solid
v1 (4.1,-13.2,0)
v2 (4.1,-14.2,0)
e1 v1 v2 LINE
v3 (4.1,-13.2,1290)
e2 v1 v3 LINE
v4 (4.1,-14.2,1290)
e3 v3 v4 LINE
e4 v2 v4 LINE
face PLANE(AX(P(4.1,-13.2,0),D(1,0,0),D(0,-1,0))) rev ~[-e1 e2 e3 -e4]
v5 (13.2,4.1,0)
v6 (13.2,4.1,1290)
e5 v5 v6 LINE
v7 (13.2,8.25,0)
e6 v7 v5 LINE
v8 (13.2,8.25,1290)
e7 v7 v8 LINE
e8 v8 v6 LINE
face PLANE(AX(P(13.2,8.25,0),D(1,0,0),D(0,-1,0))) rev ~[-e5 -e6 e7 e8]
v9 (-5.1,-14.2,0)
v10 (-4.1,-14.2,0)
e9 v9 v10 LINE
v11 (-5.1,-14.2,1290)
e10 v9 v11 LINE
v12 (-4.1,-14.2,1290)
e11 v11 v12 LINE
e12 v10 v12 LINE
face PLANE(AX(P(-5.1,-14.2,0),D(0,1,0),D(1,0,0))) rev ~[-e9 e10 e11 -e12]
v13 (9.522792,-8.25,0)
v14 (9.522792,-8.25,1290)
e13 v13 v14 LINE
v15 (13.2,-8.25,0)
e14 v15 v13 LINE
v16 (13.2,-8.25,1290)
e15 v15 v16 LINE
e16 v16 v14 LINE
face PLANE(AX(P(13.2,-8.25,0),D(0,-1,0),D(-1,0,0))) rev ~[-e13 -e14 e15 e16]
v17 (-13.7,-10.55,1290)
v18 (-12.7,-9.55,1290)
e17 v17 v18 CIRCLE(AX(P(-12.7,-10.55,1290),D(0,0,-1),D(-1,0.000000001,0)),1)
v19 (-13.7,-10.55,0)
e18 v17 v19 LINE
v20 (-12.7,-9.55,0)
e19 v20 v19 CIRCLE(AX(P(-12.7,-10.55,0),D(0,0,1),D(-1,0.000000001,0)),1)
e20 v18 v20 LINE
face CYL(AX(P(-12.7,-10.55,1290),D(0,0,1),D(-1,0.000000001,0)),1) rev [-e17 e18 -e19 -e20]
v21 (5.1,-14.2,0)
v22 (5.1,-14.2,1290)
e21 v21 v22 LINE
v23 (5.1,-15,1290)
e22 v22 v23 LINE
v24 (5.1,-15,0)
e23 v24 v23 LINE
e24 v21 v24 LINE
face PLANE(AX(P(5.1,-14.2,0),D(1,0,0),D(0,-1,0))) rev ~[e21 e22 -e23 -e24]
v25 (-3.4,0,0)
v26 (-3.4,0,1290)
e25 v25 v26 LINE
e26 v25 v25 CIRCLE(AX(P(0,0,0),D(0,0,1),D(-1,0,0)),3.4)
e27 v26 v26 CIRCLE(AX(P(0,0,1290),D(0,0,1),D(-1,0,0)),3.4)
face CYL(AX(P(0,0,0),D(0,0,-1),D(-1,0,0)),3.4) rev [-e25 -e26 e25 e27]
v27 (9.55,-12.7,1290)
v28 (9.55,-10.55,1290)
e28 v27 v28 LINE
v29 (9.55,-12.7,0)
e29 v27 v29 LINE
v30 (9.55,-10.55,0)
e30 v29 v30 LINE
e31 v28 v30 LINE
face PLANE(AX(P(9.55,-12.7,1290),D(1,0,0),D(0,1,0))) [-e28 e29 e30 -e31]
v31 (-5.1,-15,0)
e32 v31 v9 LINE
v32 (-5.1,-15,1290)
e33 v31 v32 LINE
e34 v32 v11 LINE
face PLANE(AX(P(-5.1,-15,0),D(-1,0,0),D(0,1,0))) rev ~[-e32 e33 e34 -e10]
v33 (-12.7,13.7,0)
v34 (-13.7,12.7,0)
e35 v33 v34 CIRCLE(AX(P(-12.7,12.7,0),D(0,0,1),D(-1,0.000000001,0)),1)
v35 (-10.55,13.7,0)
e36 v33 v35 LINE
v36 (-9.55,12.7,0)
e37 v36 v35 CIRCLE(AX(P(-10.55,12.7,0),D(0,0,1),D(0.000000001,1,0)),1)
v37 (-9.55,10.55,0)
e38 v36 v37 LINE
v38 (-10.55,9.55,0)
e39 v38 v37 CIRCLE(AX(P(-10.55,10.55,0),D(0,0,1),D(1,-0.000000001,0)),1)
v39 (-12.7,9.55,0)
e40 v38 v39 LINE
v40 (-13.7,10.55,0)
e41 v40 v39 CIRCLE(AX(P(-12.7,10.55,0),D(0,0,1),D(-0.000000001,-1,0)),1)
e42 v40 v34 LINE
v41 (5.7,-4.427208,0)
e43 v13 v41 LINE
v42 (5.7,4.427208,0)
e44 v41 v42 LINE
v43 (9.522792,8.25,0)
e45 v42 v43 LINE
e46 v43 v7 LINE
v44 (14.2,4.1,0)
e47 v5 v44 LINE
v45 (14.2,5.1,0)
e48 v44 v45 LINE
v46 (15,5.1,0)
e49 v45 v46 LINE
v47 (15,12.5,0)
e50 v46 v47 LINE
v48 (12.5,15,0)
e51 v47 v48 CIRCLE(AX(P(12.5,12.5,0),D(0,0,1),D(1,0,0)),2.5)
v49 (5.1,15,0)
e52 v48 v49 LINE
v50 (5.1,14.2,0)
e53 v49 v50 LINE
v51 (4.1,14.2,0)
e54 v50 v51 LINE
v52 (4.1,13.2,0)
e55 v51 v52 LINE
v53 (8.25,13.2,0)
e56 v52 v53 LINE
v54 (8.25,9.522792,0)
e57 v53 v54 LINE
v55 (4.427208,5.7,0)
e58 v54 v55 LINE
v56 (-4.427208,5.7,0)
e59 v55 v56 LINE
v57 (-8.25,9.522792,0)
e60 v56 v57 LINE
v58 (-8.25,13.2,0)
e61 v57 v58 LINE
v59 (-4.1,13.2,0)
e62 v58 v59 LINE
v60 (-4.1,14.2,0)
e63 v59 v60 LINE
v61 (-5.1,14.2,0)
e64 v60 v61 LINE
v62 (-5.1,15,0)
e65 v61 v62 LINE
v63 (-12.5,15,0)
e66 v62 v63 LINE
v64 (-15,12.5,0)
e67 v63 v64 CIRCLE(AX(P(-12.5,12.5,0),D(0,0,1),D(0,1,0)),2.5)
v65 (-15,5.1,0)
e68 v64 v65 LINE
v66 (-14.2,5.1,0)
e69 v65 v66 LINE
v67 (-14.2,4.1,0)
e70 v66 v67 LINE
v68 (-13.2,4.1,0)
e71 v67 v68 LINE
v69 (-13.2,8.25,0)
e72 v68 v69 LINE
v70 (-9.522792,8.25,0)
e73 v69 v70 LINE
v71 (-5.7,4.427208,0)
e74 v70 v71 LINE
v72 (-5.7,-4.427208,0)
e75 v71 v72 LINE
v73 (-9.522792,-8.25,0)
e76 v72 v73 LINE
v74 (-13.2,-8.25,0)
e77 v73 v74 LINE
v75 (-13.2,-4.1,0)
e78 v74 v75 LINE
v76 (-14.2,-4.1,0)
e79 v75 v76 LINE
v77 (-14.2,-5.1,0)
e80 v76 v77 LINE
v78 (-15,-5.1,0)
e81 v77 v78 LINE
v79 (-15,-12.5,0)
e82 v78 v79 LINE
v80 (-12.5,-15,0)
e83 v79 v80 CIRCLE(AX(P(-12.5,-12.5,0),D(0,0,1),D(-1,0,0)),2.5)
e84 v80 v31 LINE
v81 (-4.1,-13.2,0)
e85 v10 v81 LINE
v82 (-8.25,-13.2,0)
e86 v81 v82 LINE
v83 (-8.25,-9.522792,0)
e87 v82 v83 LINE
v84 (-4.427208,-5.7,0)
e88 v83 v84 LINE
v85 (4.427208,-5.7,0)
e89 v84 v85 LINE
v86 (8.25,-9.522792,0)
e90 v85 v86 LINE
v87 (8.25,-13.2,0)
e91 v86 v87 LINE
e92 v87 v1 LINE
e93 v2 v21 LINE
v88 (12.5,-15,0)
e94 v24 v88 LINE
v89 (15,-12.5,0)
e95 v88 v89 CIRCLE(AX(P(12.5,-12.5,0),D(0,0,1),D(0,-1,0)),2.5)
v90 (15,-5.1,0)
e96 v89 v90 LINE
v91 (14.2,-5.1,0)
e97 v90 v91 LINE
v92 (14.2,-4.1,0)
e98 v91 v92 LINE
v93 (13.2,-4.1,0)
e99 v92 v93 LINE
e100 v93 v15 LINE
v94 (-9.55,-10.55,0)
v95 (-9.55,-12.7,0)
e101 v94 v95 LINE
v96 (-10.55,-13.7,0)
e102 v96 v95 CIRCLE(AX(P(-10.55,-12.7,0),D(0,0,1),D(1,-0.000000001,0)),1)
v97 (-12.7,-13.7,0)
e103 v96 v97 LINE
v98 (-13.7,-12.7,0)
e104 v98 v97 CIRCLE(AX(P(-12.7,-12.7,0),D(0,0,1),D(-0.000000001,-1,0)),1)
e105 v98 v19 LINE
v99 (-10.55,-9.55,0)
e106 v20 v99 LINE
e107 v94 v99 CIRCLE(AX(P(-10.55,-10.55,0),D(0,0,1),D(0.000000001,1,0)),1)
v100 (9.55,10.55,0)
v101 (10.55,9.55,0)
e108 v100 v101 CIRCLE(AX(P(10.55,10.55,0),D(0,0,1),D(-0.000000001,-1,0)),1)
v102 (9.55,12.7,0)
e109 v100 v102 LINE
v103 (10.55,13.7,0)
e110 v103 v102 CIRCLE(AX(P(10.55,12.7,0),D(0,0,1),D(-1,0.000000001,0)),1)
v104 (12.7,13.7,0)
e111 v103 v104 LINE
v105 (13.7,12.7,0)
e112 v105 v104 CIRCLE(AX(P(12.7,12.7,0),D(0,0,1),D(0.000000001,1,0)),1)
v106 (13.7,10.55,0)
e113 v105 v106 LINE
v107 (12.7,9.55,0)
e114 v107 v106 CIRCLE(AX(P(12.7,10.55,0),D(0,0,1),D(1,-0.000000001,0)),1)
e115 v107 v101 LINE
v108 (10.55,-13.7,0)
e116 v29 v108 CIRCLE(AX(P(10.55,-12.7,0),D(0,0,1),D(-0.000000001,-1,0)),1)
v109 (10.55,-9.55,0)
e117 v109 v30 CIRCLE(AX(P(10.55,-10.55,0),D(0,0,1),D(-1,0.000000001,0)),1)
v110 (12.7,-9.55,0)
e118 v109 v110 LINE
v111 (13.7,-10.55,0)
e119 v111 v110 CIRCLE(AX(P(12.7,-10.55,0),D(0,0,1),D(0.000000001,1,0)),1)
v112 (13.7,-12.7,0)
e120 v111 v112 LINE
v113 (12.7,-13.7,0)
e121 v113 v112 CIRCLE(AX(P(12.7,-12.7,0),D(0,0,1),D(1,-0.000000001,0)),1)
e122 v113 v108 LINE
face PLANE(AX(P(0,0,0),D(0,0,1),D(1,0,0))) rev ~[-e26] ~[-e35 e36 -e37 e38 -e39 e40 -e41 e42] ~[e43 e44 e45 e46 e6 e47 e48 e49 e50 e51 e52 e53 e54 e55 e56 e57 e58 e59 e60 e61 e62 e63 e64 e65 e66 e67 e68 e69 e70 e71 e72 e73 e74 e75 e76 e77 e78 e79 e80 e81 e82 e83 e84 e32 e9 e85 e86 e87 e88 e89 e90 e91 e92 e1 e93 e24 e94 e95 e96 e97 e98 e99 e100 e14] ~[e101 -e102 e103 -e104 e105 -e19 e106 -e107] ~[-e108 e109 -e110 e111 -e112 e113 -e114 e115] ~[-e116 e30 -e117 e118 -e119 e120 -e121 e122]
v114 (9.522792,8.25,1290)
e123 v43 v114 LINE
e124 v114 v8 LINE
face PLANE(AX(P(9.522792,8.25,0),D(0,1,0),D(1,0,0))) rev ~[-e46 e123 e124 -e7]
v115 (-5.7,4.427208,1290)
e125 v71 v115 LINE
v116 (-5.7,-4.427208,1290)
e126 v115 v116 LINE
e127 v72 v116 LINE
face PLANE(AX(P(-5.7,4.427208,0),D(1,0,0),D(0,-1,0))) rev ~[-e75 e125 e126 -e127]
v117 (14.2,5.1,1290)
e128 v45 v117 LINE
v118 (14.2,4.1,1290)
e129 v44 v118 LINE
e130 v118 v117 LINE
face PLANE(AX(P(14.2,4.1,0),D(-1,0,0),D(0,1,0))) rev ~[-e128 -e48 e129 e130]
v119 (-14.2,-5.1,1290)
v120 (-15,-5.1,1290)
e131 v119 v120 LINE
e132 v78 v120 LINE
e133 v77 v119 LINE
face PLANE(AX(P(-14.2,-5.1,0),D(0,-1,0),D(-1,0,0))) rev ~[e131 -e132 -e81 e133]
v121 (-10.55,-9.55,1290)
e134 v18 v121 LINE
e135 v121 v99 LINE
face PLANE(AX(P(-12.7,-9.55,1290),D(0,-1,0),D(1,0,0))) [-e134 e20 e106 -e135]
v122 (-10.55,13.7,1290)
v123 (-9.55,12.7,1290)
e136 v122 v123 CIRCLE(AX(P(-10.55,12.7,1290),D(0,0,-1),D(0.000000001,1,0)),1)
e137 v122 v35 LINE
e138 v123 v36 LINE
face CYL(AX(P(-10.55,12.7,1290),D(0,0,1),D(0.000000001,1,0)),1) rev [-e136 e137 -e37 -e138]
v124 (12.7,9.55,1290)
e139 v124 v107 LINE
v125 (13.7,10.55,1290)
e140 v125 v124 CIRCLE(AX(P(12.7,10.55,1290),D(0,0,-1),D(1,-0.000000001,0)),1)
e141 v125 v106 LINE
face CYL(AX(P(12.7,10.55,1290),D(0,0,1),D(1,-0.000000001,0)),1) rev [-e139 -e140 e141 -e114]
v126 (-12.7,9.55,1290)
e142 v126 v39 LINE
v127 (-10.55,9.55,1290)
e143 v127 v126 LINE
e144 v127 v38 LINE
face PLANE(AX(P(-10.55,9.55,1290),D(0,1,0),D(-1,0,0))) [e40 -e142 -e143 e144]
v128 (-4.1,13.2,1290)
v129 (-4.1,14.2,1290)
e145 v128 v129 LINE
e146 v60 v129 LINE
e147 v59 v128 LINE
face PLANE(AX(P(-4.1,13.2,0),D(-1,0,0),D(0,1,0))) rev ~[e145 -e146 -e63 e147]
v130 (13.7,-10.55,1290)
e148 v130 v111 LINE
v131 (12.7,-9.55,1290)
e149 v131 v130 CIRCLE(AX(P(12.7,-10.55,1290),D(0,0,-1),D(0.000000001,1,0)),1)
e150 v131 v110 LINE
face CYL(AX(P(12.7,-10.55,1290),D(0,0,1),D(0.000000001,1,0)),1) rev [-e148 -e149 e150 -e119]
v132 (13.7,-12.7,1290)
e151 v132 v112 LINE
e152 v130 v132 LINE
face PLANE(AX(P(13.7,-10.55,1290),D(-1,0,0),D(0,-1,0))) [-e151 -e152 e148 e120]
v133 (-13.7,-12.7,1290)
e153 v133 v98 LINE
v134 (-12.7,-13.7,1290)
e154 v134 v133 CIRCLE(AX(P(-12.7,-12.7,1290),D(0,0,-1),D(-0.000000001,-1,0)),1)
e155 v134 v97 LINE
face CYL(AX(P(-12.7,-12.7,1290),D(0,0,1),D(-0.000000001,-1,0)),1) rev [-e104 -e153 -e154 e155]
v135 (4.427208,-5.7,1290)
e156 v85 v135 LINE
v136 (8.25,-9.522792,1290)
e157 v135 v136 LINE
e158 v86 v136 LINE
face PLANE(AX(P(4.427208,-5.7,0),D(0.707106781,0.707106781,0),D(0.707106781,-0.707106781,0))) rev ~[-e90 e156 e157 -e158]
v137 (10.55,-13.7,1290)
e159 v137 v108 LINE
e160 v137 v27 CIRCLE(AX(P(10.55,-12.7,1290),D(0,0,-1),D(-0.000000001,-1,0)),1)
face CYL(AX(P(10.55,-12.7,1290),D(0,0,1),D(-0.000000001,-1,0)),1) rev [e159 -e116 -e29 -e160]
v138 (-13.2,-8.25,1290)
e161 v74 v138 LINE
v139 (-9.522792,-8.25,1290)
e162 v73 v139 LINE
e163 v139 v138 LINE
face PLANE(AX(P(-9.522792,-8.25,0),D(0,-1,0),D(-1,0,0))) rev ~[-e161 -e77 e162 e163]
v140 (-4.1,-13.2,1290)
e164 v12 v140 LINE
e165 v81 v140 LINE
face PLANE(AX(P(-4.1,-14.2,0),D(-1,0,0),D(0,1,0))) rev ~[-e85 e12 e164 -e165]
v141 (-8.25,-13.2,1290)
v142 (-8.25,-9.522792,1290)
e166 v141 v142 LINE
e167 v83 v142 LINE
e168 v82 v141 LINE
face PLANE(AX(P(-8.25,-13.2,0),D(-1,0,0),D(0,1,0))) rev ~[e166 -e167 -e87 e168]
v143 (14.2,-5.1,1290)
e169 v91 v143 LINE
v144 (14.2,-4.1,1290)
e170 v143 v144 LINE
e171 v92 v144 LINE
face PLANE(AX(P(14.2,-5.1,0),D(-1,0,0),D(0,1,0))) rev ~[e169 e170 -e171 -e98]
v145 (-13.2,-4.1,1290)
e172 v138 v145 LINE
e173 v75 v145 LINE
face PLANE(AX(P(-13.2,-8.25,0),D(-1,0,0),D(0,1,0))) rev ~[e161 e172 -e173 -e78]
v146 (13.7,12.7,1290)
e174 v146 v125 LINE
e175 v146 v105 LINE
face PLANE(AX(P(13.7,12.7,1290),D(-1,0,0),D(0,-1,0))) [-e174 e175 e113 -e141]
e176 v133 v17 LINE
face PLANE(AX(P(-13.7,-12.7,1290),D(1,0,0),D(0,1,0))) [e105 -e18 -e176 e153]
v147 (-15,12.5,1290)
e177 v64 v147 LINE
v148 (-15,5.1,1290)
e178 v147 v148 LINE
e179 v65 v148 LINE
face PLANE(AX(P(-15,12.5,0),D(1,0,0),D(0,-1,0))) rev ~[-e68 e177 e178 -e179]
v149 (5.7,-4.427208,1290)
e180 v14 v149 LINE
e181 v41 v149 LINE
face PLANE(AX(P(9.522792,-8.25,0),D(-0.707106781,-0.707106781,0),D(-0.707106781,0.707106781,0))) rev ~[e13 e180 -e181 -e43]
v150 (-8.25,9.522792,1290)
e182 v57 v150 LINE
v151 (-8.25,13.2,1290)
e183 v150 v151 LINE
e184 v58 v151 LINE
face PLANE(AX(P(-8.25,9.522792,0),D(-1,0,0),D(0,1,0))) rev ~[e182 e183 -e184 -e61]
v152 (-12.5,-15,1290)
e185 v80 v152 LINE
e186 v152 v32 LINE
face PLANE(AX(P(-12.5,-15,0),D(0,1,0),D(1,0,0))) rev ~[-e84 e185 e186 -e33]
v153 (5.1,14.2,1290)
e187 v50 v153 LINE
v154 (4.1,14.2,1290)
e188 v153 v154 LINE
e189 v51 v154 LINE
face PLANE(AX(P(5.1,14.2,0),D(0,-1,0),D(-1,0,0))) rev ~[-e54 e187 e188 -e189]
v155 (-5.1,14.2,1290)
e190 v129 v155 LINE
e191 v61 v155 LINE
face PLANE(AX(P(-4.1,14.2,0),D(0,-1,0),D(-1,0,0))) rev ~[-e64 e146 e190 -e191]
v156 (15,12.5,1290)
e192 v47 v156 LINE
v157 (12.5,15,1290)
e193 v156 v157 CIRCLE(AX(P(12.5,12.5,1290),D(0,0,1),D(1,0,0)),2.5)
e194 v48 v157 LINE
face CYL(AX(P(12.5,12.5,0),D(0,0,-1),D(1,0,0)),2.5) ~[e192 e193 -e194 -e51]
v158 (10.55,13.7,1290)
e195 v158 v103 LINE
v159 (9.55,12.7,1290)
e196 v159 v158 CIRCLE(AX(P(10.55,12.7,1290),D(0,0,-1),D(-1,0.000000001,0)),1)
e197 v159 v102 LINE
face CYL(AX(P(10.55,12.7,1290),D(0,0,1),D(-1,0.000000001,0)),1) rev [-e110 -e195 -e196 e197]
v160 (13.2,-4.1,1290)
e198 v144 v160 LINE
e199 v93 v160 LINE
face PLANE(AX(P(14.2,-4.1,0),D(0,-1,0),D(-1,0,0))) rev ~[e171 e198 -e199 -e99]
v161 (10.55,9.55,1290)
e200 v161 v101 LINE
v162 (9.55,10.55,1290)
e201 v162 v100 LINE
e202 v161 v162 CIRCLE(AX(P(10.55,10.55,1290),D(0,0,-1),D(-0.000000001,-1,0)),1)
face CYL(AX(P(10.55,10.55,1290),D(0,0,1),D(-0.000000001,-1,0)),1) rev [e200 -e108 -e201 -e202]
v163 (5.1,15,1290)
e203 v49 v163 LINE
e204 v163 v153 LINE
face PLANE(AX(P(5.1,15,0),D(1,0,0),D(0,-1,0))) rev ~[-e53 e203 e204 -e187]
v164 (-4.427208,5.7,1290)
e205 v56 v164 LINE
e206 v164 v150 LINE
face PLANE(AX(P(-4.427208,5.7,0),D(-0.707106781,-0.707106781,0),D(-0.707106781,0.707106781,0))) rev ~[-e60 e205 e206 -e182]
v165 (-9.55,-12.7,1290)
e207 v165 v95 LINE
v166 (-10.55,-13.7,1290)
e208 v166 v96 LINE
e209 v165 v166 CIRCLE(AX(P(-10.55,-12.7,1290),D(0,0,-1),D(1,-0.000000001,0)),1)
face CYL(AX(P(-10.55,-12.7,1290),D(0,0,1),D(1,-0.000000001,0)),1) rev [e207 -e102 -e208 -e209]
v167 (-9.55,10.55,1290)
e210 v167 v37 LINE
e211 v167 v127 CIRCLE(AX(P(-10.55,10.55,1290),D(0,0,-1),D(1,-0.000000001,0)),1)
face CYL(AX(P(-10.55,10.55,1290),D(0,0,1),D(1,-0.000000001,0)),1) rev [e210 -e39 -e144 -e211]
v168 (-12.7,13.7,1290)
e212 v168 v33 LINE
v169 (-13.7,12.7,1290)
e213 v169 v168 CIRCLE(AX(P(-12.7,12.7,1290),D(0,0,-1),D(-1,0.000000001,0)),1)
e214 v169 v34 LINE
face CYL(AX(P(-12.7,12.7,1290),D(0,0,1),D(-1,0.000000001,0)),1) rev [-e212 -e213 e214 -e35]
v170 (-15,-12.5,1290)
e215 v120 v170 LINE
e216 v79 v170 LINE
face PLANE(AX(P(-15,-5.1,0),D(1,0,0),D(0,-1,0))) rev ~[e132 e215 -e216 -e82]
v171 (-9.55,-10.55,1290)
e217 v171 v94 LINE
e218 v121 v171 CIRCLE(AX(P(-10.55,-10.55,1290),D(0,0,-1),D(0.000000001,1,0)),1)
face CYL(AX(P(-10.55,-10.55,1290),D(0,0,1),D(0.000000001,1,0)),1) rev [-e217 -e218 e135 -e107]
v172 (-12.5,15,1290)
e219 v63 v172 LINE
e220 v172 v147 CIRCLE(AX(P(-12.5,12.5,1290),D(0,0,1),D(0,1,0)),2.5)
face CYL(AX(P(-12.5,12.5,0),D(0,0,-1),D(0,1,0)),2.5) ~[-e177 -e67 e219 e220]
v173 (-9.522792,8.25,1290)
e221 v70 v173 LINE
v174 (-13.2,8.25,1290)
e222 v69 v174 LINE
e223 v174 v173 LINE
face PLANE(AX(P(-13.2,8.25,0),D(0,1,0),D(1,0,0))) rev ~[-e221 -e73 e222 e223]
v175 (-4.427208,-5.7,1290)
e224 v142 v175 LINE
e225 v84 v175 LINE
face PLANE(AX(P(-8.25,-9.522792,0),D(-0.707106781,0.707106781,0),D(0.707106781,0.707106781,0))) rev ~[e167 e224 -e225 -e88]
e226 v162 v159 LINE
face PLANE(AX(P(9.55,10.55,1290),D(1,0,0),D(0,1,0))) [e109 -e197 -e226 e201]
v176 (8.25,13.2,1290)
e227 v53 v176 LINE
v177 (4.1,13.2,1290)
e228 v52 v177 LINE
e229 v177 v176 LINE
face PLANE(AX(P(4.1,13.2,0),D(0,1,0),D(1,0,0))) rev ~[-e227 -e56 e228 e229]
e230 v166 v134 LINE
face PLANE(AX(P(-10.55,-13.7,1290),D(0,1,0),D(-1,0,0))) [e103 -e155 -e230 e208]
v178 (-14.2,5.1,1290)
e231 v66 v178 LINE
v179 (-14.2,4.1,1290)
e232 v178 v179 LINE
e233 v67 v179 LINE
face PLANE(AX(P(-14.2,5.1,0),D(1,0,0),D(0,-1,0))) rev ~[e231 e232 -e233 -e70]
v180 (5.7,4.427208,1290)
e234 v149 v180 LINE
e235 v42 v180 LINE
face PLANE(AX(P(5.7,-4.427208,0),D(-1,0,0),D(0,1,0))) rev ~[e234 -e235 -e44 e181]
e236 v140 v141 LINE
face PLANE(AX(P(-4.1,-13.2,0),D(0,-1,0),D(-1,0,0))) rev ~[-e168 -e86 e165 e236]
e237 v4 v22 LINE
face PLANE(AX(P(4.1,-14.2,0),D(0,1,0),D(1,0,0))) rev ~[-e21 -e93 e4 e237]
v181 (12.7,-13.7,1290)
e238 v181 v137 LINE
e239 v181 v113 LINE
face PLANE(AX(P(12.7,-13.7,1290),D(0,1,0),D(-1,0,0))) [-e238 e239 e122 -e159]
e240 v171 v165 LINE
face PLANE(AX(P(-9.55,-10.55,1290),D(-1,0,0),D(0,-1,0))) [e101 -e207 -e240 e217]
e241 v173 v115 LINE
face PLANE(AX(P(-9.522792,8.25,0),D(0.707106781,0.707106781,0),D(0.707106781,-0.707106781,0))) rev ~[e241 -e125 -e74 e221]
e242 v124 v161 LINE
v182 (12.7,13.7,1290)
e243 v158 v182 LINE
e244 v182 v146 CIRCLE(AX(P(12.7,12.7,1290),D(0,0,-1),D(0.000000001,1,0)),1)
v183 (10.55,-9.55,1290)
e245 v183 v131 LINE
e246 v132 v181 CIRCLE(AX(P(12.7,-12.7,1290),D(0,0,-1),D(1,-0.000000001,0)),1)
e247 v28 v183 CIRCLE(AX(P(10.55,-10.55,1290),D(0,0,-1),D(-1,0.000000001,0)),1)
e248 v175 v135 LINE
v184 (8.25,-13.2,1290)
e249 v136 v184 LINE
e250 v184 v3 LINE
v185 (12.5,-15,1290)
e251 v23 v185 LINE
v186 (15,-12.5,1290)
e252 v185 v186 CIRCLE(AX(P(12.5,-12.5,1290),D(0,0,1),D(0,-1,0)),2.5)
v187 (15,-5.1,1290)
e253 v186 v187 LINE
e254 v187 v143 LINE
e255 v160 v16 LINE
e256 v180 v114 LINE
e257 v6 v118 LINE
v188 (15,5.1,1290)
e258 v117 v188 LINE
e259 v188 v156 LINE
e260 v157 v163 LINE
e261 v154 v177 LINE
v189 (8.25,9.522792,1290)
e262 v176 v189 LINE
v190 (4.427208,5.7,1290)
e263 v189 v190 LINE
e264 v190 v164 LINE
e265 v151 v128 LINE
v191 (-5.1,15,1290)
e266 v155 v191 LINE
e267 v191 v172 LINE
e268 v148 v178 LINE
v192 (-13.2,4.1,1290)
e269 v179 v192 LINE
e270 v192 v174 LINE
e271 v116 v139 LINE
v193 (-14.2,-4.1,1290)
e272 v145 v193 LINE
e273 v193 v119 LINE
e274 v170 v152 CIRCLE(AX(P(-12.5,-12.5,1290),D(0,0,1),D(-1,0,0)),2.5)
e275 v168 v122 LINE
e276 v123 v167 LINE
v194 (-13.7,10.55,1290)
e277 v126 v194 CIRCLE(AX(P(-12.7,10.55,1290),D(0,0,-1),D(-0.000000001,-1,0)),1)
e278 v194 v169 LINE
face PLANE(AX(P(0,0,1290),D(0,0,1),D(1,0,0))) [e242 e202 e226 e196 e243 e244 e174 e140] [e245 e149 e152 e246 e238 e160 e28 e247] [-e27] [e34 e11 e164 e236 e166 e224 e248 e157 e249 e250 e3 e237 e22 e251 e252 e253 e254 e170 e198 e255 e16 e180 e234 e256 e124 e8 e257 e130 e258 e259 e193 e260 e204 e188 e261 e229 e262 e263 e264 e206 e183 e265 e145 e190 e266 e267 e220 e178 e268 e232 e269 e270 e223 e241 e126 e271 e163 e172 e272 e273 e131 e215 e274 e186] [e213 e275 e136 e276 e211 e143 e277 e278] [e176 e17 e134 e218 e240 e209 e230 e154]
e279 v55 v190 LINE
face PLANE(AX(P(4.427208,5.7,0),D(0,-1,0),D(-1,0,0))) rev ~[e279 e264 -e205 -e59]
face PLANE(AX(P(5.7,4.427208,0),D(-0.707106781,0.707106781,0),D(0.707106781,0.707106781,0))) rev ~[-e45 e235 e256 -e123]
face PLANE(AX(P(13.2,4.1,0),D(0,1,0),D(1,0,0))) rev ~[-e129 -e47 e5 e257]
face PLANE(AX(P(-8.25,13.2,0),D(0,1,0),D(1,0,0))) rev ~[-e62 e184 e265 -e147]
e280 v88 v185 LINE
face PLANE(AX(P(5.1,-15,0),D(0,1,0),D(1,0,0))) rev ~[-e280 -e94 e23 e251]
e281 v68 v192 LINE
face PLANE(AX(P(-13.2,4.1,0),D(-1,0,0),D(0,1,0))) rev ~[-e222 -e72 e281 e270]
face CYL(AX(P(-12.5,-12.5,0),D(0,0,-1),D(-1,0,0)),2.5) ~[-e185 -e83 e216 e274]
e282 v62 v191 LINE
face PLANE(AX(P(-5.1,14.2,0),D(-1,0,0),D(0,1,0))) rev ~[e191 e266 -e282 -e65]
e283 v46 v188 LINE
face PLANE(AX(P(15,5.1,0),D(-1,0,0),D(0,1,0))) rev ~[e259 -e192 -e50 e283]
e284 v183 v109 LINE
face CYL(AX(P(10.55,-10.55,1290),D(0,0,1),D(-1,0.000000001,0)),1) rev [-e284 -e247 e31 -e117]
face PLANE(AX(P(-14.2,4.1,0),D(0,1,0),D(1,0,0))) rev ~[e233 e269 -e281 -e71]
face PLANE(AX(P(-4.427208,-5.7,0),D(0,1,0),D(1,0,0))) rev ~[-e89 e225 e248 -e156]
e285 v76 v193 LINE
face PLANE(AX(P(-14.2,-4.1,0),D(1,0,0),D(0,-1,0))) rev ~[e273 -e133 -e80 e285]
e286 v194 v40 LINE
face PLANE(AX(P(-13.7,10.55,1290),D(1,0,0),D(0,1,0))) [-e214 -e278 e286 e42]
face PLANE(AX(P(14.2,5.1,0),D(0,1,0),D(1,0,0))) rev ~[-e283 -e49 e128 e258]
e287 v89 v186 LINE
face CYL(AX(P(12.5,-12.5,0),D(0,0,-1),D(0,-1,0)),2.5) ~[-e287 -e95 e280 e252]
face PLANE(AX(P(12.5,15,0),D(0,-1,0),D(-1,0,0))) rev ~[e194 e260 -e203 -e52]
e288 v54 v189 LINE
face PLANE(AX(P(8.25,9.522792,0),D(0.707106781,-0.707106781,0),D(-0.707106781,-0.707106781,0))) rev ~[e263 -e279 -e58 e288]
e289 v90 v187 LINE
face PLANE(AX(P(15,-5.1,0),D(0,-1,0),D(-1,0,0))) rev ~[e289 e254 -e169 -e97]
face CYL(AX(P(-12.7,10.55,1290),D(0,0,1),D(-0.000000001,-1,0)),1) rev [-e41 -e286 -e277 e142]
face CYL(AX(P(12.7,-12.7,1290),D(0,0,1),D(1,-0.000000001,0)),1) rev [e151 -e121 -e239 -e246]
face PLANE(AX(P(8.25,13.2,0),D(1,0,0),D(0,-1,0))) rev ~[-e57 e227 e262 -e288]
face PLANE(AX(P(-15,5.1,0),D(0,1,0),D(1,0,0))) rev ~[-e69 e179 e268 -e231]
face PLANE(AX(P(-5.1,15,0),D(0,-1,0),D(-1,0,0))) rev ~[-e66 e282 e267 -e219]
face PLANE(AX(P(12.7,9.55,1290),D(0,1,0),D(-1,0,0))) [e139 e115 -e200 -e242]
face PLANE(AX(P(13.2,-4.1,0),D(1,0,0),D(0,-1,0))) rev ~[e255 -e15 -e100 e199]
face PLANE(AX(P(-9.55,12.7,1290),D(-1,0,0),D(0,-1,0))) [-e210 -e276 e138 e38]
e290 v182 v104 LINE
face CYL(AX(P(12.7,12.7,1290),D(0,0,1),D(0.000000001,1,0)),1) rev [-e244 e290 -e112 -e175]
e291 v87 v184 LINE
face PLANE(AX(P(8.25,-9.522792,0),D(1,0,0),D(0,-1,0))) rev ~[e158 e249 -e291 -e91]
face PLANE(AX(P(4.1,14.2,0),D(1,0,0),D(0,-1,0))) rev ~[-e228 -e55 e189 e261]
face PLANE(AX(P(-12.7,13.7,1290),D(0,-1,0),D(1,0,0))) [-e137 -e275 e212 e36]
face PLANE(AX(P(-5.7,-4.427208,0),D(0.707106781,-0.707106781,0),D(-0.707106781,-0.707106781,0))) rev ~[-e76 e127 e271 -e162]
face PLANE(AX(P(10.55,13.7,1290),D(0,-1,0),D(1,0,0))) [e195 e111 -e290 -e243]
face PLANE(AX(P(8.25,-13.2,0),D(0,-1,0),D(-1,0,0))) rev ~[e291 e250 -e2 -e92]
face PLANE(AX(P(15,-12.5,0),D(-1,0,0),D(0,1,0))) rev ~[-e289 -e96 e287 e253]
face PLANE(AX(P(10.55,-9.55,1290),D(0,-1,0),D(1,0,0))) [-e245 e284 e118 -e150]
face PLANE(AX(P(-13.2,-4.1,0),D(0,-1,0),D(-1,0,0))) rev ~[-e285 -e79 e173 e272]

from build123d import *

# Parameters (mm, degrees)
SKETCH1_R      = 3.4
EXTRUDE1_DEPTH = 1290
EXTRUDE2_DEPTH = 1291.174406815


with BuildPart() as part:
    # Sketch1 → Extrude1 (new body)
    with BuildSketch(Plane.XY):
        with BuildLine():
            Line((-5.1, 14.2), (-5.1, 15))
            Line((-5.1, 15), (-12.5, 15))
            ThreePointArc((-12.5, 15), (-14.267766953, 14.267766953), (-15, 12.5))
            Line((-15, 12.5), (-15, 5.1))
            Line((-15, 5.1), (-14.2, 5.1))
            Line((-14.2, 5.1), (-14.2, 4.1))
            Line((-14.2, 4.1), (-13.2, 4.1))
            Line((-13.2, 4.1), (-13.2, 8.25))
            Line((-13.2, 8.25), (-9.522792206, 8.25))
            Line((-9.522792206, 8.25), (-5.7, 4.427207794))
            Line((-5.7, 4.427207794), (-5.7, -4.427207794))
            Line((-5.7, -4.427207794), (-9.522792206, -8.25))
            Line((-9.522792206, -8.25), (-13.2, -8.25))
            Line((-13.2, -8.25), (-13.2, -4.1))
            Line((-13.2, -4.1), (-14.2, -4.1))
            Line((-14.2, -4.1), (-14.2, -5.1))
            Line((-14.2, -5.1), (-15, -5.1))
            Line((-15, -5.1), (-15, -12.5))
            ThreePointArc((-15, -12.5), (-14.267766953, -14.267766953), (-12.5, -15))
            Line((-12.5, -15), (-5.1, -15))
            Line((-5.1, -15), (-5.1, -14.2))
            Line((-5.1, -14.2), (-4.1, -14.2))
            Line((-4.1, -14.2), (-4.1, -13.2))
            Line((-4.1, -13.2), (-8.25, -13.2))
            Line((-8.25, -13.2), (-8.25, -9.522792206))
            Line((-8.25, -9.522792206), (-4.427207794, -5.7))
            Line((-4.427207794, -5.7), (4.427207794, -5.7))
            Line((4.427207794, -5.7), (8.25, -9.522792206))
            Line((8.25, -9.522792206), (8.25, -13.2))
            Line((8.25, -13.2), (4.1, -13.2))
            Line((4.1, -13.2), (4.1, -14.2))
            Line((4.1, -14.2), (5.1, -14.2))
            Line((5.1, -14.2), (5.1, -15))
            Line((5.1, -15), (12.5, -15))
            ThreePointArc((12.5, -15), (14.267766953, -14.267766953), (15, -12.5))
            Line((15, -12.5), (15, -5.1))
            Line((15, -5.1), (14.2, -5.1))
            Line((14.2, -5.1), (14.2, -4.1))
            Line((14.2, -4.1), (13.2, -4.1))
            Line((13.2, -4.1), (13.2, -8.25))
            Line((13.2, -8.25), (9.522792206, -8.25))
            Line((9.522792206, -8.25), (5.7, -4.427207794))
            Line((5.7, -4.427207794), (5.7, 4.427207794))
            Line((5.7, 4.427207794), (9.522792206, 8.25))
            Line((9.522792206, 8.25), (13.2, 8.25))
            Line((13.2, 8.25), (13.2, 4.1))
            Line((13.2, 4.1), (14.2, 4.1))
            Line((14.2, 4.1), (14.2, 5.1))
            Line((14.2, 5.1), (15, 5.1))
            Line((15, 5.1), (15, 12.5))
            ThreePointArc((15, 12.5), (14.267766953, 14.267766953), (12.5, 15))
            Line((12.5, 15), (5.1, 15))
            Line((5.1, 15), (5.1, 14.2))
            Line((5.1, 14.2), (4.1, 14.2))
            Line((4.1, 14.2), (4.1, 13.2))
            Line((4.1, 13.2), (8.25, 13.2))
            Line((8.25, 13.2), (8.25, 9.522792206))
            Line((8.25, 9.522792206), (4.427207794, 5.7))
            Line((4.427207794, 5.7), (-4.427207794, 5.7))
            Line((-4.427207794, 5.7), (-8.25, 9.522792206))
            Line((-8.25, 9.522792206), (-8.25, 13.2))
            Line((-8.25, 13.2), (-4.1, 13.2))
            Line((-4.1, 13.2), (-4.1, 14.2))
            Line((-4.1, 14.2), (-5.1, 14.2))
        make_face()
        with Locations(Location((0, 0, 0), (0, 0, 180))):
            Circle(SKETCH1_R, mode=Mode.SUBTRACT)
    extrude(amount=EXTRUDE1_DEPTH)

    # Sketch2 → Extrude2 (cut, through all)
    with BuildSketch(Plane.XY.offset(1290)):
        with BuildLine():
            Line((13.7, 12.7), (13.7, 10.55))
            ThreePointArc((13.7, 10.55), (13.407106781, 9.842893219), (12.7, 9.55))
            Line((12.7, 9.55), (10.55, 9.55))
            ThreePointArc((10.55, 9.55), (9.842893219, 9.842893219), (9.55, 10.55))
            Line((9.55, 10.55), (9.55, 12.7))
            ThreePointArc((9.55, 12.7), (9.842893219, 13.407106781), (10.55, 13.7))
            Line((10.55, 13.7), (12.7, 13.7))
            ThreePointArc((12.7, 13.7), (13.407106781, 13.407106781), (13.7, 12.7))
        make_face()
        with BuildLine():
            Line((-12.7, 13.7), (-10.55, 13.7))
            ThreePointArc((-10.55, 13.7), (-9.842893219, 13.407106781), (-9.55, 12.7))
            Line((-9.55, 12.7), (-9.55, 10.55))
            ThreePointArc((-9.55, 10.55), (-9.842893219, 9.842893219), (-10.55, 9.55))
            Line((-10.55, 9.55), (-12.7, 9.55))
            ThreePointArc((-12.7, 9.55), (-13.407106781, 9.842893219), (-13.7, 10.55))
            Line((-13.7, 10.55), (-13.7, 12.7))
            ThreePointArc((-13.7, 12.7), (-13.407106781, 13.407106781), (-12.7, 13.7))
        make_face()
        with BuildLine():
            Line((12.7, -13.7), (10.55, -13.7))
            ThreePointArc((10.55, -13.7), (9.842893219, -13.407106781), (9.55, -12.7))
            Line((9.55, -12.7), (9.55, -10.55))
            ThreePointArc((9.55, -10.55), (9.842893219, -9.842893219), (10.55, -9.55))
            Line((10.55, -9.55), (12.7, -9.55))
            ThreePointArc((12.7, -9.55), (13.407106781, -9.842893219), (13.7, -10.55))
            Line((13.7, -10.55), (13.7, -12.7))
            ThreePointArc((13.7, -12.7), (13.407106781, -13.407106781), (12.7, -13.7))
        make_face()
        with BuildLine():
            Line((-13.7, -12.7), (-13.7, -10.55))
            ThreePointArc((-13.7, -10.55), (-13.407106781, -9.842893219), (-12.7, -9.55))
            Line((-12.7, -9.55), (-10.55, -9.55))
            ThreePointArc((-10.55, -9.55), (-9.842893219, -9.842893219), (-9.55, -10.55))
            Line((-9.55, -10.55), (-9.55, -12.7))
            ThreePointArc((-9.55, -12.7), (-9.842893219, -13.407106781), (-10.55, -13.7))
            Line((-10.55, -13.7), (-12.7, -13.7))
            ThreePointArc((-12.7, -13.7), (-13.407106781, -13.407106781), (-13.7, -12.7))
        make_face()
    extrude(amount=-EXTRUDE2_DEPTH, mode=Mode.SUBTRACT)


solid = part.part
